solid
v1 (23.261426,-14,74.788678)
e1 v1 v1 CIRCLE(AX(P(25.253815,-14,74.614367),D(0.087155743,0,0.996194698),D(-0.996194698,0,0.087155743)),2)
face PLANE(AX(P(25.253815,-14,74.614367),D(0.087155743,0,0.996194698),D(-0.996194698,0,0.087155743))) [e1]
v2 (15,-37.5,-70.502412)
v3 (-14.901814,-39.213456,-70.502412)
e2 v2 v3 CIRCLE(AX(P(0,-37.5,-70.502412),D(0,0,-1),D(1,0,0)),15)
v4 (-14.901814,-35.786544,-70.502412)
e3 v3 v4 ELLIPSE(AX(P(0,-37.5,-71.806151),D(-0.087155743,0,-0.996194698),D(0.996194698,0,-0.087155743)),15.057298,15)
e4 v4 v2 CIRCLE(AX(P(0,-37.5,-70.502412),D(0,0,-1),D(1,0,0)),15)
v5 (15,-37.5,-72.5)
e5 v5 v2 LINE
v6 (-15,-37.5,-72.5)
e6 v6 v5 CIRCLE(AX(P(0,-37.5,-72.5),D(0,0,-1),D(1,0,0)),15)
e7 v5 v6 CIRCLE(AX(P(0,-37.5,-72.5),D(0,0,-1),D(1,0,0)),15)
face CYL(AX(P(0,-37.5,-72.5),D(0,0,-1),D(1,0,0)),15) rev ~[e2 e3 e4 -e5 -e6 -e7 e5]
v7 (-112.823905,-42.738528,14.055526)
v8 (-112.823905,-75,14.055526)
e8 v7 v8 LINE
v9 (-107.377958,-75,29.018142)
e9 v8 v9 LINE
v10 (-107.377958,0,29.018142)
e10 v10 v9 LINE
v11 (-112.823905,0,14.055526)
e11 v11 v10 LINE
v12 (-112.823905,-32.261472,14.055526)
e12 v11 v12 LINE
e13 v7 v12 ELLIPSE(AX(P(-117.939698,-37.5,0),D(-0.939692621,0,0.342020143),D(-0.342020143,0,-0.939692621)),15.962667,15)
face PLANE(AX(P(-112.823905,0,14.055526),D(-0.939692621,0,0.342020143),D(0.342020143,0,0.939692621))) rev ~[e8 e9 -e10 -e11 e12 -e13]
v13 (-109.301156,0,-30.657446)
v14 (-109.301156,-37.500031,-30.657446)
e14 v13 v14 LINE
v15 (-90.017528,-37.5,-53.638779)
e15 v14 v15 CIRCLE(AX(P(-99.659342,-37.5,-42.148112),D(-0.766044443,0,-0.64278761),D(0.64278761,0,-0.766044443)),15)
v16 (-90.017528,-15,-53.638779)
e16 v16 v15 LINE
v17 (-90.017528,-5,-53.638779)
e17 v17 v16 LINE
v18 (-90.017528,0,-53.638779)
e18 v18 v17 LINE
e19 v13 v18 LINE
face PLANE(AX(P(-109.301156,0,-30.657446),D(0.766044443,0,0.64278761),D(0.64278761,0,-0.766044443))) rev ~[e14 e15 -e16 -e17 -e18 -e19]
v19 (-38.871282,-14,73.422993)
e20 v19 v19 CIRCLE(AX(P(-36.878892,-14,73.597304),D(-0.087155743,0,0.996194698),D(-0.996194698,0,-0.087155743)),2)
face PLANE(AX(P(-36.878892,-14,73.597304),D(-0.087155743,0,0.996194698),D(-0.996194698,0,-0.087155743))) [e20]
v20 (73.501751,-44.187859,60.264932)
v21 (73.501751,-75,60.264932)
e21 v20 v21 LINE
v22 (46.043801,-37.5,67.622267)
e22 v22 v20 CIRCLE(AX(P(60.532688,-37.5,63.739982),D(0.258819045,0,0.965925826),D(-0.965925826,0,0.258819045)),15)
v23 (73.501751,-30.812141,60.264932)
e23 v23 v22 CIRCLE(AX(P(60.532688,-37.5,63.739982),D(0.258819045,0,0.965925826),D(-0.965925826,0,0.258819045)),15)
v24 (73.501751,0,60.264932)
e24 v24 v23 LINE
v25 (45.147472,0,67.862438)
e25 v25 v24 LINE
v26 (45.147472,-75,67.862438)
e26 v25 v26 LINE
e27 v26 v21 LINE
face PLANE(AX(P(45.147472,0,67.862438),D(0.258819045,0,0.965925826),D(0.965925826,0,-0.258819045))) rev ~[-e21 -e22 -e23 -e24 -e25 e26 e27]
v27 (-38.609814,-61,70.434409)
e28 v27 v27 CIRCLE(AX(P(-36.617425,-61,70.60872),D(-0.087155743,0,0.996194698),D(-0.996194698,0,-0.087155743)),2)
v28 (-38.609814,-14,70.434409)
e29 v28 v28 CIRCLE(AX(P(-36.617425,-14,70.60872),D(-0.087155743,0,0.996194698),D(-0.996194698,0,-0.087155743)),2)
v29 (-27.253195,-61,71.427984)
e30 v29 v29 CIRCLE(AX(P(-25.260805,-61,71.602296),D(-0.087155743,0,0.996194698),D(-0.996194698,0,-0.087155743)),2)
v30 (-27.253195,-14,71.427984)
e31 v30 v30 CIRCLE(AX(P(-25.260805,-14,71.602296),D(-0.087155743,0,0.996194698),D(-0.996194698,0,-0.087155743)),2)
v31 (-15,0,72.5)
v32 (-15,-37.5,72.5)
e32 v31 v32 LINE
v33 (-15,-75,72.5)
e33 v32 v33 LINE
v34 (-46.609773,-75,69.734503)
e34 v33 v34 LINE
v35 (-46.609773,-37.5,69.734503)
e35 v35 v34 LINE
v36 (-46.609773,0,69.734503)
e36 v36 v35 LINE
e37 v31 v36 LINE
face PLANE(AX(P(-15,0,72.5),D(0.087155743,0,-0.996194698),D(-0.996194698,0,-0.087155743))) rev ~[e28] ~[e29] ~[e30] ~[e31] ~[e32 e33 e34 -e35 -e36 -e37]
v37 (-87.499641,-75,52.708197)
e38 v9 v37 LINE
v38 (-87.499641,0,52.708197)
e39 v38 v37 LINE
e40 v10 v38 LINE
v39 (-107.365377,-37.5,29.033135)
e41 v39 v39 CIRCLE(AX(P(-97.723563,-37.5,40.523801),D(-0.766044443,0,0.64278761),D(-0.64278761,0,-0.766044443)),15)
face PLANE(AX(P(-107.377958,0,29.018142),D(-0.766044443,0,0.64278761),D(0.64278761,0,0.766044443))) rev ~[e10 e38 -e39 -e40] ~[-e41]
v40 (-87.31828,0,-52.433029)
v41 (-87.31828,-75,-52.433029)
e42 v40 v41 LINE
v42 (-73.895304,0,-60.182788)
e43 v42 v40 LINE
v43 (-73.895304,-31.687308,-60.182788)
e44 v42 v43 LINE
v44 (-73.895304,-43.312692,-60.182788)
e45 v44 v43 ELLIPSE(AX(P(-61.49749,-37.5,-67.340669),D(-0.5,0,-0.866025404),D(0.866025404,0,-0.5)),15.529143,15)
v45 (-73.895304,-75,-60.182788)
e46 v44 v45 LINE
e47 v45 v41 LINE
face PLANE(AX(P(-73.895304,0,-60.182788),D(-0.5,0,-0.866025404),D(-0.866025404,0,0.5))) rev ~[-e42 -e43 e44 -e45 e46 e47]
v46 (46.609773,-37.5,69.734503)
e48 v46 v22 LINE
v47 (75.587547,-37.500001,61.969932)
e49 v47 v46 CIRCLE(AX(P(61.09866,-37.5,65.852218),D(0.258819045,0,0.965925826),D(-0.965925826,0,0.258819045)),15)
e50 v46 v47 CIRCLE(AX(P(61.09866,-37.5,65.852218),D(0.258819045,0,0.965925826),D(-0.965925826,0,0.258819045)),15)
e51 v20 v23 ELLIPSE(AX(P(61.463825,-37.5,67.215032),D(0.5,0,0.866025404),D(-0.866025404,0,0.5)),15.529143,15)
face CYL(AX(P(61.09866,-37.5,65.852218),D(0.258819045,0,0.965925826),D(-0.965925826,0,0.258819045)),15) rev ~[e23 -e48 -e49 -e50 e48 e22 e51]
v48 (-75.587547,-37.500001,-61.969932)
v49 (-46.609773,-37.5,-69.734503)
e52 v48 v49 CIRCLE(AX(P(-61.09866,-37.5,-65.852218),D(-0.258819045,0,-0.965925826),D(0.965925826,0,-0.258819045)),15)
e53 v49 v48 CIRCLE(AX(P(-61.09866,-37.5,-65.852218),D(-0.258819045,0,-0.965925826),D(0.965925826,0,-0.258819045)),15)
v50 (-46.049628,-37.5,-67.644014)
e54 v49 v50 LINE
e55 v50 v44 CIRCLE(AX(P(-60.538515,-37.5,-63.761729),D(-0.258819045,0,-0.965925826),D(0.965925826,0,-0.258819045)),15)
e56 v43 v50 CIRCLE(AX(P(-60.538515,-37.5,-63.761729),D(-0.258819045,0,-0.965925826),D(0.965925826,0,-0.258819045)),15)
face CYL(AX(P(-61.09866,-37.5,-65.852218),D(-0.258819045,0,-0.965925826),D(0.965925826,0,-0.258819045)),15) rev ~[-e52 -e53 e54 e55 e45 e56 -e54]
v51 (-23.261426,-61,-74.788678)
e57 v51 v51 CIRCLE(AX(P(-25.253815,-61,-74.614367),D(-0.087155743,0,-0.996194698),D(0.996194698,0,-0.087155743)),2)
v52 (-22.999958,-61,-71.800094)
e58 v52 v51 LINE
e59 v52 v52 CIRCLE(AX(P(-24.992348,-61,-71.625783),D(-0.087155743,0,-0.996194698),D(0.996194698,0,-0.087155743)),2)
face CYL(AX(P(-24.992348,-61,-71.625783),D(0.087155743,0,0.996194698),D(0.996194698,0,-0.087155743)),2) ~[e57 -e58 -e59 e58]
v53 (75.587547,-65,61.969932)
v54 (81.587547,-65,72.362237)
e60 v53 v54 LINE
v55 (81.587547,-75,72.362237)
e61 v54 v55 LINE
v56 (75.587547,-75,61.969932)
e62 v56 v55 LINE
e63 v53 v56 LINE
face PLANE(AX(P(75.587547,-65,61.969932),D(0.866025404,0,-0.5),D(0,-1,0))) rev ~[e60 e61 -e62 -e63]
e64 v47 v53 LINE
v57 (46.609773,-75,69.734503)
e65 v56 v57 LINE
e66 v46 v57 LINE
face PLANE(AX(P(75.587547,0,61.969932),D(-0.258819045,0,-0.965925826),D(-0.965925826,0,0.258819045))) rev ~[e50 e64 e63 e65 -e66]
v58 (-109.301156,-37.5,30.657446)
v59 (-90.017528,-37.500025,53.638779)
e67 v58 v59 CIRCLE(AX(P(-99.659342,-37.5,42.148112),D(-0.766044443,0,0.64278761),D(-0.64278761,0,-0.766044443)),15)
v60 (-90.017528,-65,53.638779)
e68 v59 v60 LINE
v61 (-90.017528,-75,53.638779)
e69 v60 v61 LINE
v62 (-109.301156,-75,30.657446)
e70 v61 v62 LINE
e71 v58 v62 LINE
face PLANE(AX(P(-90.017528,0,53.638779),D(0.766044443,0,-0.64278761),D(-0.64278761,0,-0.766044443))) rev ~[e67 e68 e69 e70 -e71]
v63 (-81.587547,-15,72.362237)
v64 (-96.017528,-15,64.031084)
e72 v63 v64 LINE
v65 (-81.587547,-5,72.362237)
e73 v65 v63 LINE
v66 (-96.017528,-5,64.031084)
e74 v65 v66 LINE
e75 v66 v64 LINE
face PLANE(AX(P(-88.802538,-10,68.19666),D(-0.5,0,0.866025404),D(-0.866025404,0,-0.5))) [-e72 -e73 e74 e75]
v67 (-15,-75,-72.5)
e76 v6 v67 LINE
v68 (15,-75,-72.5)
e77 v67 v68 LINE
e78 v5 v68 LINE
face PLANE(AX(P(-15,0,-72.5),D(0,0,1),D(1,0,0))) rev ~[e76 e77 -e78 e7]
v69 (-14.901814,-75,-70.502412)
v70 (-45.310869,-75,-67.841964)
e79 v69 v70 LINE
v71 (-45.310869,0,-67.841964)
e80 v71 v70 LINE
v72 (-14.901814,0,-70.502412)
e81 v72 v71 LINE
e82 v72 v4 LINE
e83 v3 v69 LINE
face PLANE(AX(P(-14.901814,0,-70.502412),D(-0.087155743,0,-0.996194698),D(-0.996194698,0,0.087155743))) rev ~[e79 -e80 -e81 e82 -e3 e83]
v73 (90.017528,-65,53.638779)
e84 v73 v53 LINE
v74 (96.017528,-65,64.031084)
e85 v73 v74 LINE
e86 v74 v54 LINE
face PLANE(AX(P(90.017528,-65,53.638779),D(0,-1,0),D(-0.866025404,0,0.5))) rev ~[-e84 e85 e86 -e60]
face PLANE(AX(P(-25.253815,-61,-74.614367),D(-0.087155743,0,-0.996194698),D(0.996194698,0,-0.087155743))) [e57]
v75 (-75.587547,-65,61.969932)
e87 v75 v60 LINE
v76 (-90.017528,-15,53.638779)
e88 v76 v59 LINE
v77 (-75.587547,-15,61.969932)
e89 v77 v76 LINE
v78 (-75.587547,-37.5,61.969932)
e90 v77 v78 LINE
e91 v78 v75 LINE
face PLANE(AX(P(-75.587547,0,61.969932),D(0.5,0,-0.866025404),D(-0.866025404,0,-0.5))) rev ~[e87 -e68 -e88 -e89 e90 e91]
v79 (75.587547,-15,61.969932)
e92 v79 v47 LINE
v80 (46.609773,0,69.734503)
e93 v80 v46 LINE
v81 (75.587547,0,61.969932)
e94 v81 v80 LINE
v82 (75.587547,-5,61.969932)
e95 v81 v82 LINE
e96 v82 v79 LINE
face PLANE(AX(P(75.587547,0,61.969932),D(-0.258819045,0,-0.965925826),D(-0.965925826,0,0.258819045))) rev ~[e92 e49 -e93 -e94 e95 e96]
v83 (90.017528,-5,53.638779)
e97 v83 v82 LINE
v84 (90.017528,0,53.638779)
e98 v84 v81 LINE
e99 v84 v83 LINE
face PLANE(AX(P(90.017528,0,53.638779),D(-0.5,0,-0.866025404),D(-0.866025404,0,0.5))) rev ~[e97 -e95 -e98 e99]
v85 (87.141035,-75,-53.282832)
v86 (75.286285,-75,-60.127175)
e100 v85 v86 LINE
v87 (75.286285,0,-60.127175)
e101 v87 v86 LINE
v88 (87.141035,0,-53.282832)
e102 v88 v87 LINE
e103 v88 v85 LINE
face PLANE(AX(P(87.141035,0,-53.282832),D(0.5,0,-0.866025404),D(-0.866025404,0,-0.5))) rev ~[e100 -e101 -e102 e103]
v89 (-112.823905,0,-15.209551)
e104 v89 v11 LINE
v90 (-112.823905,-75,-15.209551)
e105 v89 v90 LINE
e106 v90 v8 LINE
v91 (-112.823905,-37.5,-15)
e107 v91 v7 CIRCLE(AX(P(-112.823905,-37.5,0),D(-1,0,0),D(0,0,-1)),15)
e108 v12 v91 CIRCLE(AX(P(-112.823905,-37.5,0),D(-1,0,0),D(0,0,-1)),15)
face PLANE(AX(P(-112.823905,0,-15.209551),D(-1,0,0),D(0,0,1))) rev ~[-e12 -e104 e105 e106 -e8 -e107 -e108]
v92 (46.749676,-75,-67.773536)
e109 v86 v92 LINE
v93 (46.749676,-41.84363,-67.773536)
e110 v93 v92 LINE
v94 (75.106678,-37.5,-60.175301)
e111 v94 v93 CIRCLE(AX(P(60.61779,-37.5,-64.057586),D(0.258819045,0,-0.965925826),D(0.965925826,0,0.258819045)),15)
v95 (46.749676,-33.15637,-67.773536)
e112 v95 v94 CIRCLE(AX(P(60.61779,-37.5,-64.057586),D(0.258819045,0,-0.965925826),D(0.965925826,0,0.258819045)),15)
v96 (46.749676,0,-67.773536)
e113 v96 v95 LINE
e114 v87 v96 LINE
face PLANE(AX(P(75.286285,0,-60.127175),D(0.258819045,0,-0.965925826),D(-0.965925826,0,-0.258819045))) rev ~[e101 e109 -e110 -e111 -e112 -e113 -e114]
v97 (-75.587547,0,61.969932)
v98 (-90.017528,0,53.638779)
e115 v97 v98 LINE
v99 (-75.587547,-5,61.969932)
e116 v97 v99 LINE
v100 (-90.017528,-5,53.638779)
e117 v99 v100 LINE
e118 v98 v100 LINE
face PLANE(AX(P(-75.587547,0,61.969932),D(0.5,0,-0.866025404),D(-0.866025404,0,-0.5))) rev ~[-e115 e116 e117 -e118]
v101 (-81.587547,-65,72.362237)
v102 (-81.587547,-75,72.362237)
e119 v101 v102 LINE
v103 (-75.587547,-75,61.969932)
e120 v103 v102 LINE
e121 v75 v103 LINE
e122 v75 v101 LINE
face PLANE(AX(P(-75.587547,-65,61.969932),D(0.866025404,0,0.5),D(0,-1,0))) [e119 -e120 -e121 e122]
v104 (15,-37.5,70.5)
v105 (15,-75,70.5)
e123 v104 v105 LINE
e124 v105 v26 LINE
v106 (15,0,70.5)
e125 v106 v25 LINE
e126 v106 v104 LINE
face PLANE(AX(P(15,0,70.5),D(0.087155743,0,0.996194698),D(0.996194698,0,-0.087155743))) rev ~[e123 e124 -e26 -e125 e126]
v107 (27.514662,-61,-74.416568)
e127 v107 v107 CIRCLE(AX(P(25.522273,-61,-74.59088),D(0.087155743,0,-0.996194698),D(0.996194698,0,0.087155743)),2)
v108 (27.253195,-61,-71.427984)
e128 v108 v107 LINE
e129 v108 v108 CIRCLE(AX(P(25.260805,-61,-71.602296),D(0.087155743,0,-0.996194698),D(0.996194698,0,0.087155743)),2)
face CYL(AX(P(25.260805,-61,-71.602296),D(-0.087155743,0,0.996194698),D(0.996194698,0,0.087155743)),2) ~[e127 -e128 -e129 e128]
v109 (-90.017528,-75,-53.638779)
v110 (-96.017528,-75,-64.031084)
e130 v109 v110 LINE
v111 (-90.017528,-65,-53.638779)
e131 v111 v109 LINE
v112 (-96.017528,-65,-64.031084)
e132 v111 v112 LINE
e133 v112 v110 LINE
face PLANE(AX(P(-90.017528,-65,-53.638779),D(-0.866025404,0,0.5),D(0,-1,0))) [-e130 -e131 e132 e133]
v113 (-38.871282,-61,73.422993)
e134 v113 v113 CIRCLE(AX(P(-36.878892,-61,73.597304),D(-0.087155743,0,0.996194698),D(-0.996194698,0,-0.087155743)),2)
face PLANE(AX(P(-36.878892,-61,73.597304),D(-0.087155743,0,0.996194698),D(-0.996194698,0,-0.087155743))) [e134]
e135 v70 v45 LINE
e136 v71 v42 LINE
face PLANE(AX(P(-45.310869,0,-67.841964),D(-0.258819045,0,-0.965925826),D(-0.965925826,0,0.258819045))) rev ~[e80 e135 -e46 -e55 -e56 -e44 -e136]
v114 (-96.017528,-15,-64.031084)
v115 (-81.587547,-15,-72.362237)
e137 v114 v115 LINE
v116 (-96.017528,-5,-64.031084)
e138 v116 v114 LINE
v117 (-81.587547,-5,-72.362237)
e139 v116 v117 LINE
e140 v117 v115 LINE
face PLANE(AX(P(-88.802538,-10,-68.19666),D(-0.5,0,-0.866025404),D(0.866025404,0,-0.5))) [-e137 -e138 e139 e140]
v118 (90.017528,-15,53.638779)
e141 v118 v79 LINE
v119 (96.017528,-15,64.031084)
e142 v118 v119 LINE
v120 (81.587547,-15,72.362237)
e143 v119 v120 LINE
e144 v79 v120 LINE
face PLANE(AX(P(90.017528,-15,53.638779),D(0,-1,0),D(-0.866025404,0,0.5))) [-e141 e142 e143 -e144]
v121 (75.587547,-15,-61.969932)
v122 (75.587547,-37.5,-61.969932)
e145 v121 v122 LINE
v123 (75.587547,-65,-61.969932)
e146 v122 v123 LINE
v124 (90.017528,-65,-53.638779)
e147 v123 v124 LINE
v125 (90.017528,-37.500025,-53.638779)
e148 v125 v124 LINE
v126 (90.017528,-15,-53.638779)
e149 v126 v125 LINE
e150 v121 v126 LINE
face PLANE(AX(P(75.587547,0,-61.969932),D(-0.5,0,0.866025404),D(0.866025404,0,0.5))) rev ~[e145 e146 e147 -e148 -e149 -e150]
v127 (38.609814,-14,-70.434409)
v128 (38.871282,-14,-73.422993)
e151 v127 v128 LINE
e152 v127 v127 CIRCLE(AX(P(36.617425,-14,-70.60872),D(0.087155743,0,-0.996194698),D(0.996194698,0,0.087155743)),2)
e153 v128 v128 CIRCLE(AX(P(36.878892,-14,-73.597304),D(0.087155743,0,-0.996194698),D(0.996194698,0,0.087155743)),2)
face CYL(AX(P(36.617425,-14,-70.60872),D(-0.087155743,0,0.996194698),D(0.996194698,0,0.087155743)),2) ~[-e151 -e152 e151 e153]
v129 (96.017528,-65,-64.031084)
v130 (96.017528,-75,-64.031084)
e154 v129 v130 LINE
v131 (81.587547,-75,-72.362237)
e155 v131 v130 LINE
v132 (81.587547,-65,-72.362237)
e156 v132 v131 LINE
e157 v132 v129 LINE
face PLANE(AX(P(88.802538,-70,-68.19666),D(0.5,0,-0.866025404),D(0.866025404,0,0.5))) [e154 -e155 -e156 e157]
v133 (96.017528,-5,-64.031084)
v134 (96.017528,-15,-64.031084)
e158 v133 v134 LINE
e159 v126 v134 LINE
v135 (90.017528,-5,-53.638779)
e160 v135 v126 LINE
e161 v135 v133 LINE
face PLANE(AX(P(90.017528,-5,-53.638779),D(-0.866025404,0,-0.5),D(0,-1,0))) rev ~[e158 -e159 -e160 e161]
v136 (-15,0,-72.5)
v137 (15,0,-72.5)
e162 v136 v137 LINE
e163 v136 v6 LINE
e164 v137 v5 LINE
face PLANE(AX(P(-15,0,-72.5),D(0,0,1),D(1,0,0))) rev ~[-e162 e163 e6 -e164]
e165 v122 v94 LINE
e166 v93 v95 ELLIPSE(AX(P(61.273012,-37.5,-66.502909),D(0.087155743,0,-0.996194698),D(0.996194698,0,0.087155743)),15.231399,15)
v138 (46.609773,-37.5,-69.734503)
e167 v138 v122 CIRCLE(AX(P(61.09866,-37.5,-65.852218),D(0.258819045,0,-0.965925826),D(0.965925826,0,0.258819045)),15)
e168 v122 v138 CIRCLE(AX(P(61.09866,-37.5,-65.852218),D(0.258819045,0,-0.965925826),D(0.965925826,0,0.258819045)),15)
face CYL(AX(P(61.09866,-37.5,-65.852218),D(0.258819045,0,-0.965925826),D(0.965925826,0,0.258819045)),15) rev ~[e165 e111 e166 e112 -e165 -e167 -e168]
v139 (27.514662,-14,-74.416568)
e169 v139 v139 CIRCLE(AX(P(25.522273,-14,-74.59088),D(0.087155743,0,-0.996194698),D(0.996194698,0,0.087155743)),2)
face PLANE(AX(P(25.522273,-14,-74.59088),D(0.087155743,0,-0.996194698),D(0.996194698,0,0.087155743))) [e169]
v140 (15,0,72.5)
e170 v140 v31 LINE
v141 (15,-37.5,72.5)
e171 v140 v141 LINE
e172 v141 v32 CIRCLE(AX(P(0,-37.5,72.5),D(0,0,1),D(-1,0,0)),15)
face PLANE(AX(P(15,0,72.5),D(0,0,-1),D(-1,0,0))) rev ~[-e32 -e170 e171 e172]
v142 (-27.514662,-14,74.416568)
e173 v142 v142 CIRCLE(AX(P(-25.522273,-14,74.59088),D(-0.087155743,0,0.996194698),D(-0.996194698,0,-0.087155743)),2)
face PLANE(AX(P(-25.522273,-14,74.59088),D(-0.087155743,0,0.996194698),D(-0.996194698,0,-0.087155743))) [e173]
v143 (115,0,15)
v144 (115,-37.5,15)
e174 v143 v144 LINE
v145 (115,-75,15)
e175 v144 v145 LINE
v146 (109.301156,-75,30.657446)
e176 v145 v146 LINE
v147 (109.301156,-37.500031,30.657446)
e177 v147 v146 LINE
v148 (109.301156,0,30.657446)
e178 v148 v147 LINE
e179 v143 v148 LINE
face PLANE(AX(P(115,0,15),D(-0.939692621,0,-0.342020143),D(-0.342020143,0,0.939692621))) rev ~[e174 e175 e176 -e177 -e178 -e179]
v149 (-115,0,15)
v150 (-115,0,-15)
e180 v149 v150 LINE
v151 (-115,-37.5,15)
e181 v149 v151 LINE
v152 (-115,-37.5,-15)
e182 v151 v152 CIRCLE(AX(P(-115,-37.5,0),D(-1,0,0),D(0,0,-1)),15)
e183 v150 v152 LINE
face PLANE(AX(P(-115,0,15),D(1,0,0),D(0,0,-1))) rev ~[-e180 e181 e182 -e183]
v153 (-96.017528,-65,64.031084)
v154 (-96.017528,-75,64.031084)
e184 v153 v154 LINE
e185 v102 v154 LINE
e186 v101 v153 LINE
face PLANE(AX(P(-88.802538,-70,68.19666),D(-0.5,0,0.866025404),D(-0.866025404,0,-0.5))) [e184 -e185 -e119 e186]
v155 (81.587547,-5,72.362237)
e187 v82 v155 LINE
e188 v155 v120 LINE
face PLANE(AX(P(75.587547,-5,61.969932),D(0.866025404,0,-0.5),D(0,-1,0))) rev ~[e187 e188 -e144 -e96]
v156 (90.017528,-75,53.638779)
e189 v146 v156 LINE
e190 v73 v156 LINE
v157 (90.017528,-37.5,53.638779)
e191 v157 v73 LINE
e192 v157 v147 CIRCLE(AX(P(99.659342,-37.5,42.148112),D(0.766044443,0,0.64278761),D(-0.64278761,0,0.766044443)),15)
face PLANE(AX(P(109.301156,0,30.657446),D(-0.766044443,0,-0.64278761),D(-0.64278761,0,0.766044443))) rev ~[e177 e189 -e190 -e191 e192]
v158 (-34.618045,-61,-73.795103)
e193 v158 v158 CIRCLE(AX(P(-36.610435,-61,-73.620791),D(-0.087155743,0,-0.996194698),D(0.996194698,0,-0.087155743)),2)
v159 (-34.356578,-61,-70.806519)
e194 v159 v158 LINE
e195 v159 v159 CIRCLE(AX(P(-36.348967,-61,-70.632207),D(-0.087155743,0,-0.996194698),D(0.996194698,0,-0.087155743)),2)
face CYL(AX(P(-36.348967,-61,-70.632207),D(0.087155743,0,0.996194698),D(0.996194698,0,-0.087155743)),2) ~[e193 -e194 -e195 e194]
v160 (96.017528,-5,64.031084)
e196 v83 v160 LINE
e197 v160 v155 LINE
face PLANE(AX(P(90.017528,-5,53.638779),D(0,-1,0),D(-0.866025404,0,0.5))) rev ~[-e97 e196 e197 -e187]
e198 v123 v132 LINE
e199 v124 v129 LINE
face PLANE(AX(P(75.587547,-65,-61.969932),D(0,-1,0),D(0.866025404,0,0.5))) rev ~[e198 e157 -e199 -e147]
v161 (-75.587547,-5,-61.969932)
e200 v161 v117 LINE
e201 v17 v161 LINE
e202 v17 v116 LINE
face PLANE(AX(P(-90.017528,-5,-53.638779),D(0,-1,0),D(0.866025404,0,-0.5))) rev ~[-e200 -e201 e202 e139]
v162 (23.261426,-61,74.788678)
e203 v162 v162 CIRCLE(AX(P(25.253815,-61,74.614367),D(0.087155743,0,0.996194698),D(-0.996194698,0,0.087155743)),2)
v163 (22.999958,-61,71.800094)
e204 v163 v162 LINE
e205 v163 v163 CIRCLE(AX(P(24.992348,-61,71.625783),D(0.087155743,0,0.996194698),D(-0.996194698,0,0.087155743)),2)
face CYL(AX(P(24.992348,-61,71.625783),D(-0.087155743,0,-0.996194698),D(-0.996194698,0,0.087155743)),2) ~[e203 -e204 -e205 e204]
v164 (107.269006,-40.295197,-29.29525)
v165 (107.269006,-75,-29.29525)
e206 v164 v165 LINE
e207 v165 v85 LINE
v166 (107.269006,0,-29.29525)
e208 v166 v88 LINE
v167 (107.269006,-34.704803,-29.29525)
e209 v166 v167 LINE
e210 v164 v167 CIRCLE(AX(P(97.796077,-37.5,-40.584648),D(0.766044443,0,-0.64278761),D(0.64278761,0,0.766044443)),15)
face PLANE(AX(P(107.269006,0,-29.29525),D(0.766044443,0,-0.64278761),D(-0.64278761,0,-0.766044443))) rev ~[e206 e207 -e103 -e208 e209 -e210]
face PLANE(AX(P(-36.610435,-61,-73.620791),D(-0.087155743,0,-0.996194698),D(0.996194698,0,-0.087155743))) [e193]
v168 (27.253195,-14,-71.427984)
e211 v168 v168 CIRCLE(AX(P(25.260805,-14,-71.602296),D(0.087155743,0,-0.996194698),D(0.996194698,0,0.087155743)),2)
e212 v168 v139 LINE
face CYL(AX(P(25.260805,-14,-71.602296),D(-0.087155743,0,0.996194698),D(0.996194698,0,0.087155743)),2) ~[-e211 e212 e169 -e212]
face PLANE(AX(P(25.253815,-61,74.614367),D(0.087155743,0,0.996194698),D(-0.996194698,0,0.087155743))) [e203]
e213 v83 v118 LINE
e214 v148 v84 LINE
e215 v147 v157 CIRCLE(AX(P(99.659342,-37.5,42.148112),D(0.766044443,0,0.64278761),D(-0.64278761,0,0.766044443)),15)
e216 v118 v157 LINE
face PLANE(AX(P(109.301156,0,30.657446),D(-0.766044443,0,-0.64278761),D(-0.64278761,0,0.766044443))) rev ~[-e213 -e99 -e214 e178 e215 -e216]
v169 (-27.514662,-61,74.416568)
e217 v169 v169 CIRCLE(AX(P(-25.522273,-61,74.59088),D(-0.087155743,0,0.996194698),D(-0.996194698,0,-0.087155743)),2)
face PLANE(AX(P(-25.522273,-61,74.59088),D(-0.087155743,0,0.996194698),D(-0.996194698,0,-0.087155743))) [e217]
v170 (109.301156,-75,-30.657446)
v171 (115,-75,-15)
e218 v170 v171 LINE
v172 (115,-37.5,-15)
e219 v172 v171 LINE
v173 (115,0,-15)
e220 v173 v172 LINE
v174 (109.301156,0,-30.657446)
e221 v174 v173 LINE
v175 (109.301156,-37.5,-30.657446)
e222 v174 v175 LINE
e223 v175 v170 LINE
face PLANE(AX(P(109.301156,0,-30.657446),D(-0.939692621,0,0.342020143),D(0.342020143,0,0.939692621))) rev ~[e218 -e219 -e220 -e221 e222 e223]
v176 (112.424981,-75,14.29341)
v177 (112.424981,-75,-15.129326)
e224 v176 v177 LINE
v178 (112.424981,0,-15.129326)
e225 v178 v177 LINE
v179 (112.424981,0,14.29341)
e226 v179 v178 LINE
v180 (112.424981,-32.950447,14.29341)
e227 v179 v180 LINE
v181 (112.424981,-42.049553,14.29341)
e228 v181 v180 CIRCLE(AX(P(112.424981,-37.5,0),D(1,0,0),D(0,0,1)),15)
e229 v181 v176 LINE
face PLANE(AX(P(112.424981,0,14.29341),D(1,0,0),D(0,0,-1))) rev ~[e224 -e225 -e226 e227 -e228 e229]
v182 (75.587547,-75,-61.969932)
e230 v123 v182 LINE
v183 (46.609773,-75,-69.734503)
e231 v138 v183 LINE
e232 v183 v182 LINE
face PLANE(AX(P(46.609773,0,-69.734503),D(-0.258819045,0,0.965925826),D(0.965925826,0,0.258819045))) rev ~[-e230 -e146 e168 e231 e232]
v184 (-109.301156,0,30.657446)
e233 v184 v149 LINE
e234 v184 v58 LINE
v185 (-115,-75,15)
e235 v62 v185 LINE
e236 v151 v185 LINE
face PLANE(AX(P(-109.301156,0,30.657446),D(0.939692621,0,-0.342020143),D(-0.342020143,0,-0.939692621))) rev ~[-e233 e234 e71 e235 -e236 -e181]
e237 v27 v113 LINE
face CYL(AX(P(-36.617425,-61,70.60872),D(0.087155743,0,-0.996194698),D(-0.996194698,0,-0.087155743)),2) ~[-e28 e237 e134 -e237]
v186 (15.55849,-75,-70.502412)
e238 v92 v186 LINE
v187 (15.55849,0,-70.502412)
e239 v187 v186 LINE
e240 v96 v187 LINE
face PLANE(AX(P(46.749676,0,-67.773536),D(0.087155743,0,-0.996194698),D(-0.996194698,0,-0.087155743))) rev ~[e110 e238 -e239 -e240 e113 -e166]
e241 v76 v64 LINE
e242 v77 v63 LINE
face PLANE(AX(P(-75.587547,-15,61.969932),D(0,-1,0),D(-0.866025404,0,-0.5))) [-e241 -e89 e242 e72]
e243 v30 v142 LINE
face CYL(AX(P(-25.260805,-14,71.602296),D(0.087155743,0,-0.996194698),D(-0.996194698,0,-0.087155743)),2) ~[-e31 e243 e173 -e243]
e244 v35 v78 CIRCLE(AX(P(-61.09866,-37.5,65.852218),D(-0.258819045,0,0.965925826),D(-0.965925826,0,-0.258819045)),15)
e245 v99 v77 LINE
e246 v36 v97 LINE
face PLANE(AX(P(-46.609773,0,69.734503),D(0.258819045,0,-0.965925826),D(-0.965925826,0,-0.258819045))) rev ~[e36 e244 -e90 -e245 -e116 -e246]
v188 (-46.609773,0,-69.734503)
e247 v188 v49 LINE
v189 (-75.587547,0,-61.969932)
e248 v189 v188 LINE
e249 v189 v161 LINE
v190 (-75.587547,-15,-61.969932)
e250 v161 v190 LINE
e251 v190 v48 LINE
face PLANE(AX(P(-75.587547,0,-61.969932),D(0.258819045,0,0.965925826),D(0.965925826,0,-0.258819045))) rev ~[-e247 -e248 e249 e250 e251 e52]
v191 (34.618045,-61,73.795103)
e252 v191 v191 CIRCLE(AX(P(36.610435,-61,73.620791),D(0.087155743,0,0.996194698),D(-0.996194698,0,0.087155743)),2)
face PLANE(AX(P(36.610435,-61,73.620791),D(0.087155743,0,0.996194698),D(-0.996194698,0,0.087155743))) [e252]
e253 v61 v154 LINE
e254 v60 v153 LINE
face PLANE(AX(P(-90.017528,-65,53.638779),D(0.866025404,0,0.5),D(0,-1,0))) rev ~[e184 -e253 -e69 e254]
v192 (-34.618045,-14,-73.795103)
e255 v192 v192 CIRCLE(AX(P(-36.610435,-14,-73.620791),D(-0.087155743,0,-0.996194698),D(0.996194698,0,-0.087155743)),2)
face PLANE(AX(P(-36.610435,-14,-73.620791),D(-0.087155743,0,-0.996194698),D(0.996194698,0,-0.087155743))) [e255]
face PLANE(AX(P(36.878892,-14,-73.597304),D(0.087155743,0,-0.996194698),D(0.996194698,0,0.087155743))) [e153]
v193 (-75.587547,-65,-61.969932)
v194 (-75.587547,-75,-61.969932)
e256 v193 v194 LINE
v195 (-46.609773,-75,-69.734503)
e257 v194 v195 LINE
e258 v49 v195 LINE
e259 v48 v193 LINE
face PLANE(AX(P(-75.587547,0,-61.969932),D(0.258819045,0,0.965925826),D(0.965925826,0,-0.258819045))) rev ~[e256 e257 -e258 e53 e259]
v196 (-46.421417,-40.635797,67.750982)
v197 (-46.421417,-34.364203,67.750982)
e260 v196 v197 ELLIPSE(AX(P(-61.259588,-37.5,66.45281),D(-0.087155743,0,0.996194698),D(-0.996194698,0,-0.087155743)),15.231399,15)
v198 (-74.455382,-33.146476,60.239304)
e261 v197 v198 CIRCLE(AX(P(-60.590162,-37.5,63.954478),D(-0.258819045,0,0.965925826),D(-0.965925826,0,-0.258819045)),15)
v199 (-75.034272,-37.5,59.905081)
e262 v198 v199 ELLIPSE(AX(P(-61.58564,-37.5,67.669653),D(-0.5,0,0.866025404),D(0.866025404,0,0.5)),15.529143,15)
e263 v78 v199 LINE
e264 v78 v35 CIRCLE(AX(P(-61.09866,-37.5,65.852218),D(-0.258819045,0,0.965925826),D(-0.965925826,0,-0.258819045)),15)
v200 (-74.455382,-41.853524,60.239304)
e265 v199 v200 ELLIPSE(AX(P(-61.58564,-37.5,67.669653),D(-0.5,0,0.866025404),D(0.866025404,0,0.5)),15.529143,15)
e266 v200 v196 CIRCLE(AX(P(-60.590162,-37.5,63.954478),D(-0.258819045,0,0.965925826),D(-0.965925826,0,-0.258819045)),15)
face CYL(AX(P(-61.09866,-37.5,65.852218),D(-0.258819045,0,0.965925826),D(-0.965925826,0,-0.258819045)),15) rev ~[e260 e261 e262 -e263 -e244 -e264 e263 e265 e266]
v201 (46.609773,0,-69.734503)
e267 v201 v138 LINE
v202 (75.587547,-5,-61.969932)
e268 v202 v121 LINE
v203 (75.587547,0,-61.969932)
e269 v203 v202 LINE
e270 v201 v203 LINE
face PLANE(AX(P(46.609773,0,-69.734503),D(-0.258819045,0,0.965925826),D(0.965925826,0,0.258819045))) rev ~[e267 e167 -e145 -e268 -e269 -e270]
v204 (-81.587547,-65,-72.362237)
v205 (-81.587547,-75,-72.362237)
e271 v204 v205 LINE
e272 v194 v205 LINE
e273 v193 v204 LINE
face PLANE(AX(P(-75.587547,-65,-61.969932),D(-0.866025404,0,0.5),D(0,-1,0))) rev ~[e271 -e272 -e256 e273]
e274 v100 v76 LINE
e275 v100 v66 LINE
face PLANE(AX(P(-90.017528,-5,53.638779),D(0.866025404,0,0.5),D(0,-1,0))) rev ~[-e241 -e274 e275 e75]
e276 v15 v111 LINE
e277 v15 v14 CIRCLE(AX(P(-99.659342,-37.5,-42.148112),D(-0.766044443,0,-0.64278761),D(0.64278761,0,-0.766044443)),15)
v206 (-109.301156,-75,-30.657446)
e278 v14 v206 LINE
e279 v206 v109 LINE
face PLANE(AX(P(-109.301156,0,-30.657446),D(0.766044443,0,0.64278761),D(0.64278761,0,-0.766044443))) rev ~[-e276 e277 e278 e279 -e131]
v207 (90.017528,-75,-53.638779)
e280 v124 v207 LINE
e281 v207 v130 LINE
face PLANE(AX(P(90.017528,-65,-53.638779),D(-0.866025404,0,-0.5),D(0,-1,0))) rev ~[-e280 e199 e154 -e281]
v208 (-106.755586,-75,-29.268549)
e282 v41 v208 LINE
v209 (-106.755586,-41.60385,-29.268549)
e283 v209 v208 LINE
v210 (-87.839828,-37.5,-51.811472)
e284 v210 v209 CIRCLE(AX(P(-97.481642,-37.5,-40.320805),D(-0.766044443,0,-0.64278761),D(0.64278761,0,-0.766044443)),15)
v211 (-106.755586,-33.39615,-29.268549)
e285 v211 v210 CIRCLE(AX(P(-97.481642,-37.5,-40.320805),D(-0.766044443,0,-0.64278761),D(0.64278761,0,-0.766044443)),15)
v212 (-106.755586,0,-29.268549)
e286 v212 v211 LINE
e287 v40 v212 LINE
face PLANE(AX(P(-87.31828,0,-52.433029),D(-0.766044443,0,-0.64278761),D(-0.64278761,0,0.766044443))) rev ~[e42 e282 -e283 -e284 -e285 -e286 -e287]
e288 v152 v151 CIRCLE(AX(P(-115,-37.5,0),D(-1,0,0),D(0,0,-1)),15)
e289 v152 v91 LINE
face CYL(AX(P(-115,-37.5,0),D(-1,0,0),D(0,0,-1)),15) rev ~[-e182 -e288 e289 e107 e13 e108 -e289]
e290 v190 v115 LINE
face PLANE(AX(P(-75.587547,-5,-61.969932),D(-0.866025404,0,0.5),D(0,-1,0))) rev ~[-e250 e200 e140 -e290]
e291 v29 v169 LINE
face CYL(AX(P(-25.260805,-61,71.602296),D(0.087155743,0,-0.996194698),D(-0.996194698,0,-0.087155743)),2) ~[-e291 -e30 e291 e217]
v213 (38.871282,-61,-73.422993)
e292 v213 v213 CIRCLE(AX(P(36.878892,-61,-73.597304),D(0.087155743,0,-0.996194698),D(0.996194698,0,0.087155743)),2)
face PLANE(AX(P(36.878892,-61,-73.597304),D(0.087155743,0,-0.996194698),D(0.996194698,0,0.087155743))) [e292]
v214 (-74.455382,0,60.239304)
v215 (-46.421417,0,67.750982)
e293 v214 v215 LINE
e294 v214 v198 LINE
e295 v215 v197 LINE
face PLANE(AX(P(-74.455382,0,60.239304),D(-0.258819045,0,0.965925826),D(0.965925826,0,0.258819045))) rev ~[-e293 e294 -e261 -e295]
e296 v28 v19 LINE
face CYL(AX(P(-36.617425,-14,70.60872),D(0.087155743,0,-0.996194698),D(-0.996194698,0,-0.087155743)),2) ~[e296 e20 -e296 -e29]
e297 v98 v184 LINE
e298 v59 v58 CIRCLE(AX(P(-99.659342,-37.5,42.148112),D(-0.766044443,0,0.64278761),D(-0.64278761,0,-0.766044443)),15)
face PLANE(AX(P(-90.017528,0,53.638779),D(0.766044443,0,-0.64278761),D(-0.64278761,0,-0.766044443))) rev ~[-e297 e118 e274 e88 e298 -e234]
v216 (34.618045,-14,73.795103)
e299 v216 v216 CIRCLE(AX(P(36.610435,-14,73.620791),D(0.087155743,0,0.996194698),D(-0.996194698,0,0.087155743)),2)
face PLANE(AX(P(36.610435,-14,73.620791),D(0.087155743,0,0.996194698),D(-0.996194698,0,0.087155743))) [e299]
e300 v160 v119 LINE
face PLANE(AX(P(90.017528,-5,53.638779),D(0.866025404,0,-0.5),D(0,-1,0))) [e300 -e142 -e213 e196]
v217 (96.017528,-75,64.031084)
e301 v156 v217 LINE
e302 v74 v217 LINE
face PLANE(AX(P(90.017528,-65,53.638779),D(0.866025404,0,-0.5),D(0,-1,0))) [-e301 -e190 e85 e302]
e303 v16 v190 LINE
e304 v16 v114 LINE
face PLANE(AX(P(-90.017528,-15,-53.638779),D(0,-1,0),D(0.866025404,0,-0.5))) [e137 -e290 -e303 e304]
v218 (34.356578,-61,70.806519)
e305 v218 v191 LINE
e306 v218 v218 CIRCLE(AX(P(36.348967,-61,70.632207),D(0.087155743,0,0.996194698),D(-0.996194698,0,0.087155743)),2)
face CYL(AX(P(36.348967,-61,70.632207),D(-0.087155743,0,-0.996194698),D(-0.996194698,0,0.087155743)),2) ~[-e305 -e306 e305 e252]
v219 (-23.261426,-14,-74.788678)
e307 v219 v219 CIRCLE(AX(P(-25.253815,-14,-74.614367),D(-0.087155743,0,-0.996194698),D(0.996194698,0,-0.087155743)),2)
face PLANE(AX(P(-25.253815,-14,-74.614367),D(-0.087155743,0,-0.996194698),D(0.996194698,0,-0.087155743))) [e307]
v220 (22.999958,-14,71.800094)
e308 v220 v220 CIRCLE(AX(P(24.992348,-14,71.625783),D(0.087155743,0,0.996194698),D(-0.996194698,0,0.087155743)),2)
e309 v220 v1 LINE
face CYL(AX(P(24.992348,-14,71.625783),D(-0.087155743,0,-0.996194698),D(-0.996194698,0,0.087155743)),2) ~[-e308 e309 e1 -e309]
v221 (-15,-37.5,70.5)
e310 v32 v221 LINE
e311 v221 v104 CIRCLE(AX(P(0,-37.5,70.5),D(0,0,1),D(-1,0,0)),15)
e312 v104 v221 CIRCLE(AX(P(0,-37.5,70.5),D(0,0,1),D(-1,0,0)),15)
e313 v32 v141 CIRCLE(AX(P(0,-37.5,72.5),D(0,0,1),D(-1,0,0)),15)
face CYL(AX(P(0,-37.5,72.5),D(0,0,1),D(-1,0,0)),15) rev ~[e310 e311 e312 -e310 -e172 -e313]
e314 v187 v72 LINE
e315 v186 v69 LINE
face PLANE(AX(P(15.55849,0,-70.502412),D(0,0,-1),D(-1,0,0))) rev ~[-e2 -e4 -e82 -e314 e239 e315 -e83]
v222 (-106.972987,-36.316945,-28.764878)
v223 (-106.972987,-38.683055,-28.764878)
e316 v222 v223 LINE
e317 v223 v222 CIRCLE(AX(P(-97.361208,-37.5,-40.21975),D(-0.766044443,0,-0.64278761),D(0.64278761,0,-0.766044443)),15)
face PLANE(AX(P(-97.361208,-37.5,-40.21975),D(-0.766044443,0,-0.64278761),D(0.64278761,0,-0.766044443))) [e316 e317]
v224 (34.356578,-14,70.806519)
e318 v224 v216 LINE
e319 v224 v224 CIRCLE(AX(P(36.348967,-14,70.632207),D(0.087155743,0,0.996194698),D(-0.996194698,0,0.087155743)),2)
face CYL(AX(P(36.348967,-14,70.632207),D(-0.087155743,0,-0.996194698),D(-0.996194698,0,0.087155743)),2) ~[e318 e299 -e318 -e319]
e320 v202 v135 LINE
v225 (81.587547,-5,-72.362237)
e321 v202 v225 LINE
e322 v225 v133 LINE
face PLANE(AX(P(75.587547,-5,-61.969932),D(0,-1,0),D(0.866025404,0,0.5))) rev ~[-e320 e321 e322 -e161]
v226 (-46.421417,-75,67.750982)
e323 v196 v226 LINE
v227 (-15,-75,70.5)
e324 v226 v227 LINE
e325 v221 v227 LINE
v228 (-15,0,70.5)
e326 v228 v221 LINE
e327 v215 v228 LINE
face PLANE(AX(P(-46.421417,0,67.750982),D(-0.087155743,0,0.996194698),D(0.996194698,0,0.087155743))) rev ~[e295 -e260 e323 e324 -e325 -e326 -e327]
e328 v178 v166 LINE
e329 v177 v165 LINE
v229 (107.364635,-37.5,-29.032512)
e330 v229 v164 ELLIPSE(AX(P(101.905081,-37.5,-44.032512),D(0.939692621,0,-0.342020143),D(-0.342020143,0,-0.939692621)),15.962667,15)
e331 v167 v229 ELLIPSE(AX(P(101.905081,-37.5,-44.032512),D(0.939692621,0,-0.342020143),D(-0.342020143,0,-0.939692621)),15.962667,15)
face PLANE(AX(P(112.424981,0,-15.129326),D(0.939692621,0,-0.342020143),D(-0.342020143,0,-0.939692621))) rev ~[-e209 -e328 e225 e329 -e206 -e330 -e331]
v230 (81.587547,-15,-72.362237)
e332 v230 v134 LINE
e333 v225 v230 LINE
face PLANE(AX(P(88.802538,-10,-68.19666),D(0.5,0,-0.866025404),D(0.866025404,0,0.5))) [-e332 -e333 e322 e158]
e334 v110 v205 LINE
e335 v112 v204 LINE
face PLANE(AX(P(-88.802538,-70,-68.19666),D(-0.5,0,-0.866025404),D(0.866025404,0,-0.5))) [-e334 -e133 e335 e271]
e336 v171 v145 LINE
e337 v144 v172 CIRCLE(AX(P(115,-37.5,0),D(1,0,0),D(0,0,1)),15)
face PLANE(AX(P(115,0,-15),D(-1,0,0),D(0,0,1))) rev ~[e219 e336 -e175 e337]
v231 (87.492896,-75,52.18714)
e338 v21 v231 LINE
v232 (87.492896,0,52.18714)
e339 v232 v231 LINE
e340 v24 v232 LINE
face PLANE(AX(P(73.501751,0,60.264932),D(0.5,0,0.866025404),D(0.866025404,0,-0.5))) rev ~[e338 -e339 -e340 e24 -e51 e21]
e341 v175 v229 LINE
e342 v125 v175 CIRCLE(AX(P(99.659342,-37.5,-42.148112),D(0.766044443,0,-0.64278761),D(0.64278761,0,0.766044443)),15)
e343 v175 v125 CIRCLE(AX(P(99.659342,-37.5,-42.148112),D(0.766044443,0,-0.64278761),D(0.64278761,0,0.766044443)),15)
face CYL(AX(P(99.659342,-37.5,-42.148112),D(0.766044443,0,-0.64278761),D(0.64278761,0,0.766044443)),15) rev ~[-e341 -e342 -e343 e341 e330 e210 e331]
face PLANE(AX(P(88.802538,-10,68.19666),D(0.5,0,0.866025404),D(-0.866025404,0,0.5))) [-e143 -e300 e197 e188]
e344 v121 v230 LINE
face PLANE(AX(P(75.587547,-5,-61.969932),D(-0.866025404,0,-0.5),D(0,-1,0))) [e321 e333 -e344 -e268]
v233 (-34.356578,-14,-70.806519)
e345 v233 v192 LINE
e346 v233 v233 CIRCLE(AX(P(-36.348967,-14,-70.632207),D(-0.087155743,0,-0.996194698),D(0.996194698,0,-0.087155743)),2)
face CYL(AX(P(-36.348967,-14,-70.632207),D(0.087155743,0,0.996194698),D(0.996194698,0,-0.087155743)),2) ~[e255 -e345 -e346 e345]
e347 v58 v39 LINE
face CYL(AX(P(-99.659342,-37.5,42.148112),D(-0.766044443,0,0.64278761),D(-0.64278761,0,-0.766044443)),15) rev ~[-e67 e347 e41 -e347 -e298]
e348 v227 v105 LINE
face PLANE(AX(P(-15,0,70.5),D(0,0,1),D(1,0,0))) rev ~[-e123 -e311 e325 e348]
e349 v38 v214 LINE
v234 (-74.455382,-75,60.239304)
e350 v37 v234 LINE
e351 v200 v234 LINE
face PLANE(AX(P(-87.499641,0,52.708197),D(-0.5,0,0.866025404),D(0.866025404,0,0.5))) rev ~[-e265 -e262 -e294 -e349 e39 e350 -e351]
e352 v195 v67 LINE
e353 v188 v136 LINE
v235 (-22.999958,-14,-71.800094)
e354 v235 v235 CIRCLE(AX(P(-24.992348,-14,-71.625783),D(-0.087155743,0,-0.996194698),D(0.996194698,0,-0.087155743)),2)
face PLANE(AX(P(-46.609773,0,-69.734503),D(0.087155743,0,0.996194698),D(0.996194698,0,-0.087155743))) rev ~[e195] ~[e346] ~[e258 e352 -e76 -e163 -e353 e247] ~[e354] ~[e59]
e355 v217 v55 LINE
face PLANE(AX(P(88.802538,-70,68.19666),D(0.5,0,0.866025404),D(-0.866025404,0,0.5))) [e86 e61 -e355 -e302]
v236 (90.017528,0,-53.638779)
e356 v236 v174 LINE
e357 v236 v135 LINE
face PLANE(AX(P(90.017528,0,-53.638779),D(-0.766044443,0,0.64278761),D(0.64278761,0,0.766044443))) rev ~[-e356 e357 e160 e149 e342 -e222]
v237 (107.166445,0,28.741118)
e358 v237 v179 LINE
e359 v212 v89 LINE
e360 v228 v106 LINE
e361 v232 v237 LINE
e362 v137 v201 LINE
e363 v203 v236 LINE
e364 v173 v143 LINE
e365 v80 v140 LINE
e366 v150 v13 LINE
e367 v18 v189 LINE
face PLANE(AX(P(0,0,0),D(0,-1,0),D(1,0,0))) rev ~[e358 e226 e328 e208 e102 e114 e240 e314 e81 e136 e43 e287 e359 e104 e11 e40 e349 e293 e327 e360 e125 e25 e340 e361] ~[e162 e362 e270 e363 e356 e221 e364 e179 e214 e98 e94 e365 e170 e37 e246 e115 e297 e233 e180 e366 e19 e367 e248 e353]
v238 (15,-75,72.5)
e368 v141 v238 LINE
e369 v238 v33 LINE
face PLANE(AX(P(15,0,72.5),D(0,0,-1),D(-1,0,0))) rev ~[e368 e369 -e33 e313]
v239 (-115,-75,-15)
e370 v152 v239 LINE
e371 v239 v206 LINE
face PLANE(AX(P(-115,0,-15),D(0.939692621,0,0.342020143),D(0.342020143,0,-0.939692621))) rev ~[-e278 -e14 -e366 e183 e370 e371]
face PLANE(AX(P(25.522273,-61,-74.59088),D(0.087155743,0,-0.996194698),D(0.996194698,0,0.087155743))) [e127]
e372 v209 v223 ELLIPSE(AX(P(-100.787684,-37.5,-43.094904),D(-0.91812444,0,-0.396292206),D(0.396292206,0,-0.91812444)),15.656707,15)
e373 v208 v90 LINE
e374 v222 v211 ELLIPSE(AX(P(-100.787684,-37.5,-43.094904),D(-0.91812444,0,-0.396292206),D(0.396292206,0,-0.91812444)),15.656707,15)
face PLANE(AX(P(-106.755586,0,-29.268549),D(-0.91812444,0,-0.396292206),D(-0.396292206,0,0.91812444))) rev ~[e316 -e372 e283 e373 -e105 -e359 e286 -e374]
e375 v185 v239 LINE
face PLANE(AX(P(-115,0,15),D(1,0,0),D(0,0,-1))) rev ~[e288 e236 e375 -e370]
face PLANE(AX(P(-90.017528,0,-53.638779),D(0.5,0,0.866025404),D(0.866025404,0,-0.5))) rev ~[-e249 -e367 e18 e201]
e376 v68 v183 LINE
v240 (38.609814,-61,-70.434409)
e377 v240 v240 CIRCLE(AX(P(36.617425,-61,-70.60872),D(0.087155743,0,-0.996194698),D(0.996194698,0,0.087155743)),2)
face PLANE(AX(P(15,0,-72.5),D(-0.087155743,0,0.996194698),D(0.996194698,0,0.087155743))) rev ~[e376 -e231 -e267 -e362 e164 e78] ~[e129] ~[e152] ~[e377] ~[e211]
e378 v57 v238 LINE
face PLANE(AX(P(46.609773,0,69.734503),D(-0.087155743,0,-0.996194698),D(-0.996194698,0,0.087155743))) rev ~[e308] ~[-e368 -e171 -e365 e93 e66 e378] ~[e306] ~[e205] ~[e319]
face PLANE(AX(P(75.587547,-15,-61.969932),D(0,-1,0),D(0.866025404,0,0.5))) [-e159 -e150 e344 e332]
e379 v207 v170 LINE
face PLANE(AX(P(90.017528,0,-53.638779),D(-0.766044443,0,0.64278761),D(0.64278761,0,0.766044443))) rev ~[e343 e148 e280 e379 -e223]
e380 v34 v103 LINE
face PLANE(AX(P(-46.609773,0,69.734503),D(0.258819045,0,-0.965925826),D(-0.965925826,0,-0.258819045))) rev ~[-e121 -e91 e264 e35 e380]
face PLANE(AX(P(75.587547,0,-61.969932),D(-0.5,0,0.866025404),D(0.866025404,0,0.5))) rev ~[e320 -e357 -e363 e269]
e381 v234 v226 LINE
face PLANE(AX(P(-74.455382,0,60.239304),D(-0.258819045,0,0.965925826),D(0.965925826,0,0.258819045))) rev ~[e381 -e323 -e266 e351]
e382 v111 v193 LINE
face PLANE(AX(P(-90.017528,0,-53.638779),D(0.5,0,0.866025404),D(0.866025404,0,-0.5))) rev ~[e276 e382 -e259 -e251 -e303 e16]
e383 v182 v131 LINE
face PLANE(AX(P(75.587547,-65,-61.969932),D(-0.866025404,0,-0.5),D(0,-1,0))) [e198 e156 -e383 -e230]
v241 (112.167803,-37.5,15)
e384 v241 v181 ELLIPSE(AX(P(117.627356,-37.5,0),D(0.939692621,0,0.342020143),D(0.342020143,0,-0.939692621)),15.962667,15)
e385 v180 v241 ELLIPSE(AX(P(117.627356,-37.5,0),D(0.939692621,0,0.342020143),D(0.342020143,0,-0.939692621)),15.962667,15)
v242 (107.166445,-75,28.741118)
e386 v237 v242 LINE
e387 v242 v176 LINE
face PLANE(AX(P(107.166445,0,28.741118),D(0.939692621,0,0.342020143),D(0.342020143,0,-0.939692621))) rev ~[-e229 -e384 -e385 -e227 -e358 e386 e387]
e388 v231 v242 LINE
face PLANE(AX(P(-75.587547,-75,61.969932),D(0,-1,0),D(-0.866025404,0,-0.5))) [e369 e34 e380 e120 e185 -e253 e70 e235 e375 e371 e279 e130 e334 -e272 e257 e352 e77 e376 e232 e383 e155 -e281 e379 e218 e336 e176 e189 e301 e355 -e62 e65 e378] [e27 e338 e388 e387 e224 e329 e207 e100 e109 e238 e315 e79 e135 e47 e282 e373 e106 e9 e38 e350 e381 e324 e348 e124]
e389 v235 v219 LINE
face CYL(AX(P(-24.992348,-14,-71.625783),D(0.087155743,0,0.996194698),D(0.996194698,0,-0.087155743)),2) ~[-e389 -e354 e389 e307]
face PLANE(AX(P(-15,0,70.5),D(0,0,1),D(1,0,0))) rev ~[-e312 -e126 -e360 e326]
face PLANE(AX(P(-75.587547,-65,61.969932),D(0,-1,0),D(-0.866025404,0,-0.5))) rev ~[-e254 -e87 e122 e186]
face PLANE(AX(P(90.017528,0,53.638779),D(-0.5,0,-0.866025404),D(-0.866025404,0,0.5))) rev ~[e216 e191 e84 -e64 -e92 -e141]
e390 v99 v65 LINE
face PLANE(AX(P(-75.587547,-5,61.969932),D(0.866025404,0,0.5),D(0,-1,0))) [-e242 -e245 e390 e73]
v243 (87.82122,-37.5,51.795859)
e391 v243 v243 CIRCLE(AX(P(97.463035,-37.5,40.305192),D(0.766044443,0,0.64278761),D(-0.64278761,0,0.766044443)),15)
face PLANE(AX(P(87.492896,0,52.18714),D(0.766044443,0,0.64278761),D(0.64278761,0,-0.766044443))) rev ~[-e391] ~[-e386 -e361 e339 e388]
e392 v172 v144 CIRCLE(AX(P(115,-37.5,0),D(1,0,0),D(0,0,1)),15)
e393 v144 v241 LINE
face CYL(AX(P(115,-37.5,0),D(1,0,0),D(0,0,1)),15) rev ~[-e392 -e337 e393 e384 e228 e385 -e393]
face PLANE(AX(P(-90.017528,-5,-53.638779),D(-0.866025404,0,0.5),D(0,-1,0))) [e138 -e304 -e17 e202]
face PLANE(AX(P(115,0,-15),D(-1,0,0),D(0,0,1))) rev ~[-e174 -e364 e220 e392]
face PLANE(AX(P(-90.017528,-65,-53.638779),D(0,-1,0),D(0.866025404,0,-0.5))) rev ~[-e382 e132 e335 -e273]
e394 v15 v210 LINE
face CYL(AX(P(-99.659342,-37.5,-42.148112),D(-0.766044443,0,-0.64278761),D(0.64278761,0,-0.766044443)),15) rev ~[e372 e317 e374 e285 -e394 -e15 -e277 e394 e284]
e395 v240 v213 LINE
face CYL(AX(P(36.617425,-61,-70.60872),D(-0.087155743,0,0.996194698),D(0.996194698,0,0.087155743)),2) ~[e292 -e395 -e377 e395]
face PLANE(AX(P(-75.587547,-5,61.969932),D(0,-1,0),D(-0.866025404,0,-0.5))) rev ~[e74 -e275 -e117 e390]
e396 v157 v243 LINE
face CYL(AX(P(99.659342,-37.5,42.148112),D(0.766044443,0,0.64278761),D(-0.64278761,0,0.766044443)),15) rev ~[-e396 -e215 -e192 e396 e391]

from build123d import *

# Parameters (mm, degrees)
PAD_DEPTH       = 75
SKETCH001_R     = 15
POCKET_DEPTH    = 3
SKETCH002_R     = 15
POCKET001_DEPTH = 3
SKETCH003_R     = 15
POCKET002_DEPTH = 3
SKETCH004_R     = 15
POCKET003_DEPTH = 3
SKETCH005_R     = 15
POCKET004_DEPTH = 3
SKETCH006_R     = 15
POCKET005_DEPTH = 3
SKETCH007_R     = 15
POCKET006_DEPTH = 3
SKETCH008_R     = 15
POCKET007_DEPTH = 3
SKETCH009_R     = 15
POCKET008_DEPTH = 3
SKETCH010_R     = 15
POCKET009_DEPTH = 3
SKETCH011_R     = 15
POCKET010_DEPTH = 3
SKETCH012_R     = 15
POCKET011_DEPTH = 3
SKETCH013_W     = 16.6623057169
SKETCH013_H     = 10
PAD001_DEPTH    = 12
SKETCH014_W     = 16.6623057169
SKETCH014_H     = 10
PAD002_DEPTH    = 12
SKETCH015_W     = 16.6623057169
SKETCH015_H     = 10
PAD003_DEPTH    = 12
SKETCH016_W     = 16.6623057169
SKETCH016_H     = 10
PAD004_DEPTH    = 12
SKETCH017_W     = 16.6623057169
SKETCH017_H     = 10
PAD005_DEPTH    = 12
SKETCH018_R     = 2
PAD006_DEPTH    = 3
SKETCH019_R     = 2
PAD007_DEPTH    = 3
SKETCH020_R     = 2
PAD008_DEPTH    = 3
SKETCH021_R     = 2
PAD009_DEPTH    = 3


with BuildPart() as part:
    # Sketch → Pad (new body)
    with BuildSketch(Plane.XZ):
        Polygon((-115, 15), (-115, -15), (-109.3011558106, -30.6574457275), (-90.01752752, -53.638779021), (-75.5875474835, -61.9699318795), (-46.6097726948, -69.7345032326), (-15, -72.5), (15, -72.5), (46.6097726948, -69.7345032326), (75.5875474835, -61.9699318795), (90.01752752, -53.638779021), (109.3011558106, -30.6574457275), (115, -15), (115, 15), (109.3011558106, 30.6574457275), (90.01752752, 53.638779021), (75.5875474835, 61.9699318795), (46.6097726948, 69.7345032326), (15, 72.5), (-15, 72.5), (-46.6097726948, 69.7345032326), (-75.5875474835, 61.9699318795), (-90.01752752, 53.638779021), (-109.3011558106, 30.6574457275), align=None)
        Polygon((-15, 70.5), (15, 70.5), (45.1474724059, 67.8624379305), (73.5017505011, 60.2649320129), (87.4928960516, 52.1871403631), (107.1664449714, 28.7411177589), (112.4249806172, 14.2934098125), (112.4249806172, -15.129325967), (107.2690057988, -29.295250356), (87.1410348375, -53.2828320607), (75.2862851494, -60.1271749843), (46.7496758605, -67.773536398), (15.5584899901, -70.5024115636), (-14.9018142644, -70.5024115636), (-45.3108694437, -67.8419639668), (-73.8953035194, -60.1827879401), (-87.3182795517, -52.4330291146), (-106.7555862722, -29.268549), (-112.8239045631, -15.209551), (-112.8239045631, 14.0555263106), (-107.3779577019, 29.0181423395), (-87.4996413362, 52.708197283), (-74.455381738, 60.2393040734), (-46.4214173604, 67.7509821891), align=None, mode=Mode.SUBTRACT)
    extrude(amount=PAD_DEPTH)

    # Sketch001 (on Face24 of Pad) → Pocket (cut)
    with BuildSketch(Plane(origin=(0, 0, 72.5), x_dir=(-1, 0, 0), z_dir=(0, 0, 1))):
        with Locations((0, 37.5)):
            Circle(SKETCH001_R)
    extrude(amount=-POCKET_DEPTH, mode=Mode.SUBTRACT)

    # Sketch002 (on Face28 of Pocket) → Pocket001 (cut)
    with BuildSketch(Plane(origin=(20.5558885464, 0, 76.7156204498), x_dir=(-0.9659258263, 0, 0.2588190451), z_dir=(0.2588190451, 0, 0.9659258263))):
        with Locations((-41.972965666, 37.5)):
            Circle(SKETCH002_R)
    extrude(amount=-POCKET001_DEPTH, mode=Mode.SUBTRACT)

    # Sketch003 (on Face4 of Pocket001) → Pocket002 (cut)
    with BuildSketch(Plane(origin=(-20.5558885464, 0, 76.7156204498), x_dir=(-0.9659258263, 0, -0.2588190451), z_dir=(-0.2588190451, 0, 0.9659258263))):
        with Locations((41.972965666, 37.5)):
            Circle(SKETCH003_R)
    extrude(amount=-POCKET002_DEPTH, mode=Mode.SUBTRACT)

    # Sketch004 (on Face28 of Pocket002) → Pocket003 (cut)
    with BuildSketch(Plane(origin=(79.236396287, 0, 66.4872309002), x_dir=(-0.6427876097, 0, 0.7660444431), z_dir=(0.7660444431, 0, 0.6427876097))):
        with Locations((-31.7724627397, 37.5)):
            Circle(SKETCH004_R)
    extrude(amount=-POCKET003_DEPTH, mode=Mode.SUBTRACT)

    # Sketch005 (on Face12 of Pocket003) → Pocket004 (cut)
    with BuildSketch(Plane(origin=(-79.236396287, 0, 66.4872309002), x_dir=(-0.6427876097, 0, -0.7660444431), z_dir=(-0.7660444431, 0, 0.6427876097))):
        with Locations((31.7724627397, 37.5)):
            Circle(SKETCH005_R)
    extrude(amount=-POCKET004_DEPTH, mode=Mode.SUBTRACT)

    # Sketch006 (on Face26 of Pocket004) → Pocket005 (cut)
    with BuildSketch(Plane(origin=(115, 0, 0), x_dir=(0, 0, 1), z_dir=(1, 0, 0))):
        with Locations((0, 37.5)):
            Circle(SKETCH006_R)
    extrude(amount=-POCKET005_DEPTH, mode=Mode.SUBTRACT)

    # Sketch007 (on Face14 of Pocket005) → Pocket006 (cut)
    with BuildSketch(Plane(origin=(-115, 0, 0), x_dir=(0, 0, -1), z_dir=(-1, 0, 0))):
        with Locations((0, 37.5)):
            Circle(SKETCH007_R)
    extrude(amount=-POCKET006_DEPTH, mode=Mode.SUBTRACT)

    # Sketch008 (on Face16 of Pocket006) → Pocket007 (cut)
    with BuildSketch(Plane(origin=(-79.236396287, 0, -66.4872309002), x_dir=(0.6427876097, 0, -0.7660444431), z_dir=(-0.7660444431, 0, -0.6427876097))):
        with Locations((-31.7724627397, 37.5)):
            Circle(SKETCH008_R)
    extrude(amount=-POCKET007_DEPTH, mode=Mode.SUBTRACT)

    # Sketch009 (on Face18 of Pocket007) → Pocket008 (cut)
    with BuildSketch(Plane(origin=(-20.5558885464, 0, -76.7156204498), x_dir=(0.9659258263, 0, -0.2588190451), z_dir=(-0.2588190451, 0, -0.9659258263))):
        with Locations((-41.972965666, 37.5)):
            Circle(SKETCH009_R)
    extrude(amount=-POCKET008_DEPTH, mode=Mode.SUBTRACT)

    # Sketch010 (on Face20 of Pocket008) → Pocket009 (cut)
    with BuildSketch(Plane(origin=(0, 0, -72.5), x_dir=(1, 0, 0), z_dir=(0, 0, -1))):
        with Locations((0, 37.5)):
            Circle(SKETCH010_R)
    extrude(amount=-POCKET009_DEPTH, mode=Mode.SUBTRACT)

    # Sketch011 (on Face22 of Pocket009) → Pocket010 (cut)
    with BuildSketch(Plane(origin=(20.5558885464, 0, -76.7156204498), x_dir=(0.9659258263, 0, 0.2588190451), z_dir=(0.2588190451, 0, -0.9659258263))):
        with Locations((41.972965666, 37.5)):
            Circle(SKETCH011_R)
    extrude(amount=-POCKET010_DEPTH, mode=Mode.SUBTRACT)

    # Sketch012 (on Face24 of Pocket010) → Pocket011 (cut)
    with BuildSketch(Plane(origin=(79.236396287, 0, -66.4872309002), x_dir=(0.6427876097, 0, 0.7660444431), z_dir=(0.7660444431, 0, -0.6427876097))):
        with Locations((31.7724627397, 37.5)):
            Circle(SKETCH012_R)
    extrude(amount=-POCKET011_DEPTH, mode=Mode.SUBTRACT)

    # Sketch013 (on Face29 of Pocket011) → Pad001 (join)
    with BuildSketch(Plane(origin=(45.7306545101, 0, 79.2078170749), x_dir=(-0.8660254038, 0, 0.5), z_dir=(0.5, 0, 0.8660254038))):
        with Locations((-42.8069232492, 10)):
            Rectangle(SKETCH013_W, SKETCH013_H)
        with Locations((-42.8069232492, 70)):
            Rectangle(SKETCH013_W, SKETCH013_H)
    extrude(amount=PAD001_DEPTH)

    # Sketch014 (on Face10 of Pad001) → Pad002 (join)
    with BuildSketch(Plane(origin=(-45.7306545101, 0, 79.2078170749), x_dir=(-0.8660254038, 0, -0.5), z_dir=(-0.5, 0, 0.8660254038))):
        with Locations((42.8069232492, 10)):
            Rectangle(SKETCH014_W, SKETCH014_H)
    extrude(amount=PAD002_DEPTH)

    # Sketch015 (on Face19 of Pad002) → Pad003 (join)
    with BuildSketch(Plane(origin=(-45.7306545101, 0, -79.2078170749), x_dir=(0.8660254038, 0, -0.5), z_dir=(-0.5, 0, -0.8660254038))):
        with Locations((-42.8069232492, 10)):
            Rectangle(SKETCH015_W, SKETCH015_H)
        with Locations((-42.8069232492, 70)):
            Rectangle(SKETCH015_W, SKETCH015_H)
    extrude(amount=PAD003_DEPTH)

    # Sketch016 (on Face25 of Pad003) → Pad004 (join)
    with BuildSketch(Plane(origin=(45.7306545101, 0, -79.2078170749), x_dir=(0.8660254038, 0, 0.5), z_dir=(0.5, 0, -0.8660254038))):
        with Locations((42.8069232492, 10)):
            Rectangle(SKETCH016_W, SKETCH016_H)
        with Locations((42.8069232492, 70)):
            Rectangle(SKETCH016_W, SKETCH016_H)
    extrude(amount=PAD004_DEPTH)

    # Sketch017 (on Face12 of Pad004) → Pad005 (join)
    with BuildSketch(Plane(origin=(-45.7306545101, 0, 79.2078170749), x_dir=(-0.8660254038, 0, -0.5), z_dir=(-0.5, 0, 0.8660254038))):
        with Locations((42.8069232492, 70)):
            Rectangle(SKETCH017_W, SKETCH017_H)
    extrude(amount=PAD005_DEPTH)

    # Sketch018 (on Face1 of Pad005) → Pad006 (join)
    with BuildSketch(Plane(origin=(-6.4086882928, 0, 73.2516423792), x_dir=(-0.9961946981, 0, -0.0871557427), z_dir=(-0.0871557427, 0, 0.9961946981))):
        with Locations((30.3241291222, 61)):
            Circle(SKETCH018_R)
        with Locations((18.9241291222, 61)):
            Circle(SKETCH018_R)
        with Locations((18.9241291222, 14)):
            Circle(SKETCH018_R)
        with Locations((30.3241291222, 14)):
            Circle(SKETCH018_R)
    extrude(amount=PAD006_DEPTH)

    # Sketch019 (on Face12 of Pad006) → Pad007 (join)
    with BuildSketch(Plane(origin=(6.4086882928, 0, 73.2516423792), x_dir=(-0.9961946981, 0, 0.0871557427), z_dir=(0.0871557427, 0, 0.9961946981))):
        with Locations((-30.0546460135, 61)):
            Circle(SKETCH019_R)
        with Locations((-18.6546460135, 61)):
            Circle(SKETCH019_R)
        with Locations((-18.6546460135, 14)):
            Circle(SKETCH019_R)
        with Locations((-30.0546460135, 14)):
            Circle(SKETCH019_R)
    extrude(amount=PAD007_DEPTH)

    # Sketch020 (on Face22 of Pad007) → Pad008 (join)
    with BuildSketch(Plane(origin=(-6.4086882928, 0, -73.2516423792), x_dir=(0.9961946981, 0, -0.0871557427), z_dir=(-0.0871557427, 0, -0.9961946981))):
        with Locations((-30.0546460135, 61)):
            Circle(SKETCH020_R)
        with Locations((-18.6546460135, 61)):
            Circle(SKETCH020_R)
        with Locations((-30.0546460135, 14)):
            Circle(SKETCH020_R)
        with Locations((-18.6546460135, 14)):
            Circle(SKETCH020_R)
    extrude(amount=PAD008_DEPTH)

    # Sketch021 (on Face24 of Pad008) → Pad009 (join)
    with BuildSketch(Plane(origin=(6.4086882928, 0, -73.2516423792), x_dir=(0.9961946981, 0, 0.0871557427), z_dir=(0.0871557427, 0, -0.9961946981))):
        with Locations((18.9241291222, 61)):
            Circle(SKETCH021_R)
        with Locations((30.3241291222, 61)):
            Circle(SKETCH021_R)
        with Locations((18.9241291222, 14)):
            Circle(SKETCH021_R)
        with Locations((30.3241291222, 14)):
            Circle(SKETCH021_R)
    extrude(amount=PAD009_DEPTH)


solid = part.part
